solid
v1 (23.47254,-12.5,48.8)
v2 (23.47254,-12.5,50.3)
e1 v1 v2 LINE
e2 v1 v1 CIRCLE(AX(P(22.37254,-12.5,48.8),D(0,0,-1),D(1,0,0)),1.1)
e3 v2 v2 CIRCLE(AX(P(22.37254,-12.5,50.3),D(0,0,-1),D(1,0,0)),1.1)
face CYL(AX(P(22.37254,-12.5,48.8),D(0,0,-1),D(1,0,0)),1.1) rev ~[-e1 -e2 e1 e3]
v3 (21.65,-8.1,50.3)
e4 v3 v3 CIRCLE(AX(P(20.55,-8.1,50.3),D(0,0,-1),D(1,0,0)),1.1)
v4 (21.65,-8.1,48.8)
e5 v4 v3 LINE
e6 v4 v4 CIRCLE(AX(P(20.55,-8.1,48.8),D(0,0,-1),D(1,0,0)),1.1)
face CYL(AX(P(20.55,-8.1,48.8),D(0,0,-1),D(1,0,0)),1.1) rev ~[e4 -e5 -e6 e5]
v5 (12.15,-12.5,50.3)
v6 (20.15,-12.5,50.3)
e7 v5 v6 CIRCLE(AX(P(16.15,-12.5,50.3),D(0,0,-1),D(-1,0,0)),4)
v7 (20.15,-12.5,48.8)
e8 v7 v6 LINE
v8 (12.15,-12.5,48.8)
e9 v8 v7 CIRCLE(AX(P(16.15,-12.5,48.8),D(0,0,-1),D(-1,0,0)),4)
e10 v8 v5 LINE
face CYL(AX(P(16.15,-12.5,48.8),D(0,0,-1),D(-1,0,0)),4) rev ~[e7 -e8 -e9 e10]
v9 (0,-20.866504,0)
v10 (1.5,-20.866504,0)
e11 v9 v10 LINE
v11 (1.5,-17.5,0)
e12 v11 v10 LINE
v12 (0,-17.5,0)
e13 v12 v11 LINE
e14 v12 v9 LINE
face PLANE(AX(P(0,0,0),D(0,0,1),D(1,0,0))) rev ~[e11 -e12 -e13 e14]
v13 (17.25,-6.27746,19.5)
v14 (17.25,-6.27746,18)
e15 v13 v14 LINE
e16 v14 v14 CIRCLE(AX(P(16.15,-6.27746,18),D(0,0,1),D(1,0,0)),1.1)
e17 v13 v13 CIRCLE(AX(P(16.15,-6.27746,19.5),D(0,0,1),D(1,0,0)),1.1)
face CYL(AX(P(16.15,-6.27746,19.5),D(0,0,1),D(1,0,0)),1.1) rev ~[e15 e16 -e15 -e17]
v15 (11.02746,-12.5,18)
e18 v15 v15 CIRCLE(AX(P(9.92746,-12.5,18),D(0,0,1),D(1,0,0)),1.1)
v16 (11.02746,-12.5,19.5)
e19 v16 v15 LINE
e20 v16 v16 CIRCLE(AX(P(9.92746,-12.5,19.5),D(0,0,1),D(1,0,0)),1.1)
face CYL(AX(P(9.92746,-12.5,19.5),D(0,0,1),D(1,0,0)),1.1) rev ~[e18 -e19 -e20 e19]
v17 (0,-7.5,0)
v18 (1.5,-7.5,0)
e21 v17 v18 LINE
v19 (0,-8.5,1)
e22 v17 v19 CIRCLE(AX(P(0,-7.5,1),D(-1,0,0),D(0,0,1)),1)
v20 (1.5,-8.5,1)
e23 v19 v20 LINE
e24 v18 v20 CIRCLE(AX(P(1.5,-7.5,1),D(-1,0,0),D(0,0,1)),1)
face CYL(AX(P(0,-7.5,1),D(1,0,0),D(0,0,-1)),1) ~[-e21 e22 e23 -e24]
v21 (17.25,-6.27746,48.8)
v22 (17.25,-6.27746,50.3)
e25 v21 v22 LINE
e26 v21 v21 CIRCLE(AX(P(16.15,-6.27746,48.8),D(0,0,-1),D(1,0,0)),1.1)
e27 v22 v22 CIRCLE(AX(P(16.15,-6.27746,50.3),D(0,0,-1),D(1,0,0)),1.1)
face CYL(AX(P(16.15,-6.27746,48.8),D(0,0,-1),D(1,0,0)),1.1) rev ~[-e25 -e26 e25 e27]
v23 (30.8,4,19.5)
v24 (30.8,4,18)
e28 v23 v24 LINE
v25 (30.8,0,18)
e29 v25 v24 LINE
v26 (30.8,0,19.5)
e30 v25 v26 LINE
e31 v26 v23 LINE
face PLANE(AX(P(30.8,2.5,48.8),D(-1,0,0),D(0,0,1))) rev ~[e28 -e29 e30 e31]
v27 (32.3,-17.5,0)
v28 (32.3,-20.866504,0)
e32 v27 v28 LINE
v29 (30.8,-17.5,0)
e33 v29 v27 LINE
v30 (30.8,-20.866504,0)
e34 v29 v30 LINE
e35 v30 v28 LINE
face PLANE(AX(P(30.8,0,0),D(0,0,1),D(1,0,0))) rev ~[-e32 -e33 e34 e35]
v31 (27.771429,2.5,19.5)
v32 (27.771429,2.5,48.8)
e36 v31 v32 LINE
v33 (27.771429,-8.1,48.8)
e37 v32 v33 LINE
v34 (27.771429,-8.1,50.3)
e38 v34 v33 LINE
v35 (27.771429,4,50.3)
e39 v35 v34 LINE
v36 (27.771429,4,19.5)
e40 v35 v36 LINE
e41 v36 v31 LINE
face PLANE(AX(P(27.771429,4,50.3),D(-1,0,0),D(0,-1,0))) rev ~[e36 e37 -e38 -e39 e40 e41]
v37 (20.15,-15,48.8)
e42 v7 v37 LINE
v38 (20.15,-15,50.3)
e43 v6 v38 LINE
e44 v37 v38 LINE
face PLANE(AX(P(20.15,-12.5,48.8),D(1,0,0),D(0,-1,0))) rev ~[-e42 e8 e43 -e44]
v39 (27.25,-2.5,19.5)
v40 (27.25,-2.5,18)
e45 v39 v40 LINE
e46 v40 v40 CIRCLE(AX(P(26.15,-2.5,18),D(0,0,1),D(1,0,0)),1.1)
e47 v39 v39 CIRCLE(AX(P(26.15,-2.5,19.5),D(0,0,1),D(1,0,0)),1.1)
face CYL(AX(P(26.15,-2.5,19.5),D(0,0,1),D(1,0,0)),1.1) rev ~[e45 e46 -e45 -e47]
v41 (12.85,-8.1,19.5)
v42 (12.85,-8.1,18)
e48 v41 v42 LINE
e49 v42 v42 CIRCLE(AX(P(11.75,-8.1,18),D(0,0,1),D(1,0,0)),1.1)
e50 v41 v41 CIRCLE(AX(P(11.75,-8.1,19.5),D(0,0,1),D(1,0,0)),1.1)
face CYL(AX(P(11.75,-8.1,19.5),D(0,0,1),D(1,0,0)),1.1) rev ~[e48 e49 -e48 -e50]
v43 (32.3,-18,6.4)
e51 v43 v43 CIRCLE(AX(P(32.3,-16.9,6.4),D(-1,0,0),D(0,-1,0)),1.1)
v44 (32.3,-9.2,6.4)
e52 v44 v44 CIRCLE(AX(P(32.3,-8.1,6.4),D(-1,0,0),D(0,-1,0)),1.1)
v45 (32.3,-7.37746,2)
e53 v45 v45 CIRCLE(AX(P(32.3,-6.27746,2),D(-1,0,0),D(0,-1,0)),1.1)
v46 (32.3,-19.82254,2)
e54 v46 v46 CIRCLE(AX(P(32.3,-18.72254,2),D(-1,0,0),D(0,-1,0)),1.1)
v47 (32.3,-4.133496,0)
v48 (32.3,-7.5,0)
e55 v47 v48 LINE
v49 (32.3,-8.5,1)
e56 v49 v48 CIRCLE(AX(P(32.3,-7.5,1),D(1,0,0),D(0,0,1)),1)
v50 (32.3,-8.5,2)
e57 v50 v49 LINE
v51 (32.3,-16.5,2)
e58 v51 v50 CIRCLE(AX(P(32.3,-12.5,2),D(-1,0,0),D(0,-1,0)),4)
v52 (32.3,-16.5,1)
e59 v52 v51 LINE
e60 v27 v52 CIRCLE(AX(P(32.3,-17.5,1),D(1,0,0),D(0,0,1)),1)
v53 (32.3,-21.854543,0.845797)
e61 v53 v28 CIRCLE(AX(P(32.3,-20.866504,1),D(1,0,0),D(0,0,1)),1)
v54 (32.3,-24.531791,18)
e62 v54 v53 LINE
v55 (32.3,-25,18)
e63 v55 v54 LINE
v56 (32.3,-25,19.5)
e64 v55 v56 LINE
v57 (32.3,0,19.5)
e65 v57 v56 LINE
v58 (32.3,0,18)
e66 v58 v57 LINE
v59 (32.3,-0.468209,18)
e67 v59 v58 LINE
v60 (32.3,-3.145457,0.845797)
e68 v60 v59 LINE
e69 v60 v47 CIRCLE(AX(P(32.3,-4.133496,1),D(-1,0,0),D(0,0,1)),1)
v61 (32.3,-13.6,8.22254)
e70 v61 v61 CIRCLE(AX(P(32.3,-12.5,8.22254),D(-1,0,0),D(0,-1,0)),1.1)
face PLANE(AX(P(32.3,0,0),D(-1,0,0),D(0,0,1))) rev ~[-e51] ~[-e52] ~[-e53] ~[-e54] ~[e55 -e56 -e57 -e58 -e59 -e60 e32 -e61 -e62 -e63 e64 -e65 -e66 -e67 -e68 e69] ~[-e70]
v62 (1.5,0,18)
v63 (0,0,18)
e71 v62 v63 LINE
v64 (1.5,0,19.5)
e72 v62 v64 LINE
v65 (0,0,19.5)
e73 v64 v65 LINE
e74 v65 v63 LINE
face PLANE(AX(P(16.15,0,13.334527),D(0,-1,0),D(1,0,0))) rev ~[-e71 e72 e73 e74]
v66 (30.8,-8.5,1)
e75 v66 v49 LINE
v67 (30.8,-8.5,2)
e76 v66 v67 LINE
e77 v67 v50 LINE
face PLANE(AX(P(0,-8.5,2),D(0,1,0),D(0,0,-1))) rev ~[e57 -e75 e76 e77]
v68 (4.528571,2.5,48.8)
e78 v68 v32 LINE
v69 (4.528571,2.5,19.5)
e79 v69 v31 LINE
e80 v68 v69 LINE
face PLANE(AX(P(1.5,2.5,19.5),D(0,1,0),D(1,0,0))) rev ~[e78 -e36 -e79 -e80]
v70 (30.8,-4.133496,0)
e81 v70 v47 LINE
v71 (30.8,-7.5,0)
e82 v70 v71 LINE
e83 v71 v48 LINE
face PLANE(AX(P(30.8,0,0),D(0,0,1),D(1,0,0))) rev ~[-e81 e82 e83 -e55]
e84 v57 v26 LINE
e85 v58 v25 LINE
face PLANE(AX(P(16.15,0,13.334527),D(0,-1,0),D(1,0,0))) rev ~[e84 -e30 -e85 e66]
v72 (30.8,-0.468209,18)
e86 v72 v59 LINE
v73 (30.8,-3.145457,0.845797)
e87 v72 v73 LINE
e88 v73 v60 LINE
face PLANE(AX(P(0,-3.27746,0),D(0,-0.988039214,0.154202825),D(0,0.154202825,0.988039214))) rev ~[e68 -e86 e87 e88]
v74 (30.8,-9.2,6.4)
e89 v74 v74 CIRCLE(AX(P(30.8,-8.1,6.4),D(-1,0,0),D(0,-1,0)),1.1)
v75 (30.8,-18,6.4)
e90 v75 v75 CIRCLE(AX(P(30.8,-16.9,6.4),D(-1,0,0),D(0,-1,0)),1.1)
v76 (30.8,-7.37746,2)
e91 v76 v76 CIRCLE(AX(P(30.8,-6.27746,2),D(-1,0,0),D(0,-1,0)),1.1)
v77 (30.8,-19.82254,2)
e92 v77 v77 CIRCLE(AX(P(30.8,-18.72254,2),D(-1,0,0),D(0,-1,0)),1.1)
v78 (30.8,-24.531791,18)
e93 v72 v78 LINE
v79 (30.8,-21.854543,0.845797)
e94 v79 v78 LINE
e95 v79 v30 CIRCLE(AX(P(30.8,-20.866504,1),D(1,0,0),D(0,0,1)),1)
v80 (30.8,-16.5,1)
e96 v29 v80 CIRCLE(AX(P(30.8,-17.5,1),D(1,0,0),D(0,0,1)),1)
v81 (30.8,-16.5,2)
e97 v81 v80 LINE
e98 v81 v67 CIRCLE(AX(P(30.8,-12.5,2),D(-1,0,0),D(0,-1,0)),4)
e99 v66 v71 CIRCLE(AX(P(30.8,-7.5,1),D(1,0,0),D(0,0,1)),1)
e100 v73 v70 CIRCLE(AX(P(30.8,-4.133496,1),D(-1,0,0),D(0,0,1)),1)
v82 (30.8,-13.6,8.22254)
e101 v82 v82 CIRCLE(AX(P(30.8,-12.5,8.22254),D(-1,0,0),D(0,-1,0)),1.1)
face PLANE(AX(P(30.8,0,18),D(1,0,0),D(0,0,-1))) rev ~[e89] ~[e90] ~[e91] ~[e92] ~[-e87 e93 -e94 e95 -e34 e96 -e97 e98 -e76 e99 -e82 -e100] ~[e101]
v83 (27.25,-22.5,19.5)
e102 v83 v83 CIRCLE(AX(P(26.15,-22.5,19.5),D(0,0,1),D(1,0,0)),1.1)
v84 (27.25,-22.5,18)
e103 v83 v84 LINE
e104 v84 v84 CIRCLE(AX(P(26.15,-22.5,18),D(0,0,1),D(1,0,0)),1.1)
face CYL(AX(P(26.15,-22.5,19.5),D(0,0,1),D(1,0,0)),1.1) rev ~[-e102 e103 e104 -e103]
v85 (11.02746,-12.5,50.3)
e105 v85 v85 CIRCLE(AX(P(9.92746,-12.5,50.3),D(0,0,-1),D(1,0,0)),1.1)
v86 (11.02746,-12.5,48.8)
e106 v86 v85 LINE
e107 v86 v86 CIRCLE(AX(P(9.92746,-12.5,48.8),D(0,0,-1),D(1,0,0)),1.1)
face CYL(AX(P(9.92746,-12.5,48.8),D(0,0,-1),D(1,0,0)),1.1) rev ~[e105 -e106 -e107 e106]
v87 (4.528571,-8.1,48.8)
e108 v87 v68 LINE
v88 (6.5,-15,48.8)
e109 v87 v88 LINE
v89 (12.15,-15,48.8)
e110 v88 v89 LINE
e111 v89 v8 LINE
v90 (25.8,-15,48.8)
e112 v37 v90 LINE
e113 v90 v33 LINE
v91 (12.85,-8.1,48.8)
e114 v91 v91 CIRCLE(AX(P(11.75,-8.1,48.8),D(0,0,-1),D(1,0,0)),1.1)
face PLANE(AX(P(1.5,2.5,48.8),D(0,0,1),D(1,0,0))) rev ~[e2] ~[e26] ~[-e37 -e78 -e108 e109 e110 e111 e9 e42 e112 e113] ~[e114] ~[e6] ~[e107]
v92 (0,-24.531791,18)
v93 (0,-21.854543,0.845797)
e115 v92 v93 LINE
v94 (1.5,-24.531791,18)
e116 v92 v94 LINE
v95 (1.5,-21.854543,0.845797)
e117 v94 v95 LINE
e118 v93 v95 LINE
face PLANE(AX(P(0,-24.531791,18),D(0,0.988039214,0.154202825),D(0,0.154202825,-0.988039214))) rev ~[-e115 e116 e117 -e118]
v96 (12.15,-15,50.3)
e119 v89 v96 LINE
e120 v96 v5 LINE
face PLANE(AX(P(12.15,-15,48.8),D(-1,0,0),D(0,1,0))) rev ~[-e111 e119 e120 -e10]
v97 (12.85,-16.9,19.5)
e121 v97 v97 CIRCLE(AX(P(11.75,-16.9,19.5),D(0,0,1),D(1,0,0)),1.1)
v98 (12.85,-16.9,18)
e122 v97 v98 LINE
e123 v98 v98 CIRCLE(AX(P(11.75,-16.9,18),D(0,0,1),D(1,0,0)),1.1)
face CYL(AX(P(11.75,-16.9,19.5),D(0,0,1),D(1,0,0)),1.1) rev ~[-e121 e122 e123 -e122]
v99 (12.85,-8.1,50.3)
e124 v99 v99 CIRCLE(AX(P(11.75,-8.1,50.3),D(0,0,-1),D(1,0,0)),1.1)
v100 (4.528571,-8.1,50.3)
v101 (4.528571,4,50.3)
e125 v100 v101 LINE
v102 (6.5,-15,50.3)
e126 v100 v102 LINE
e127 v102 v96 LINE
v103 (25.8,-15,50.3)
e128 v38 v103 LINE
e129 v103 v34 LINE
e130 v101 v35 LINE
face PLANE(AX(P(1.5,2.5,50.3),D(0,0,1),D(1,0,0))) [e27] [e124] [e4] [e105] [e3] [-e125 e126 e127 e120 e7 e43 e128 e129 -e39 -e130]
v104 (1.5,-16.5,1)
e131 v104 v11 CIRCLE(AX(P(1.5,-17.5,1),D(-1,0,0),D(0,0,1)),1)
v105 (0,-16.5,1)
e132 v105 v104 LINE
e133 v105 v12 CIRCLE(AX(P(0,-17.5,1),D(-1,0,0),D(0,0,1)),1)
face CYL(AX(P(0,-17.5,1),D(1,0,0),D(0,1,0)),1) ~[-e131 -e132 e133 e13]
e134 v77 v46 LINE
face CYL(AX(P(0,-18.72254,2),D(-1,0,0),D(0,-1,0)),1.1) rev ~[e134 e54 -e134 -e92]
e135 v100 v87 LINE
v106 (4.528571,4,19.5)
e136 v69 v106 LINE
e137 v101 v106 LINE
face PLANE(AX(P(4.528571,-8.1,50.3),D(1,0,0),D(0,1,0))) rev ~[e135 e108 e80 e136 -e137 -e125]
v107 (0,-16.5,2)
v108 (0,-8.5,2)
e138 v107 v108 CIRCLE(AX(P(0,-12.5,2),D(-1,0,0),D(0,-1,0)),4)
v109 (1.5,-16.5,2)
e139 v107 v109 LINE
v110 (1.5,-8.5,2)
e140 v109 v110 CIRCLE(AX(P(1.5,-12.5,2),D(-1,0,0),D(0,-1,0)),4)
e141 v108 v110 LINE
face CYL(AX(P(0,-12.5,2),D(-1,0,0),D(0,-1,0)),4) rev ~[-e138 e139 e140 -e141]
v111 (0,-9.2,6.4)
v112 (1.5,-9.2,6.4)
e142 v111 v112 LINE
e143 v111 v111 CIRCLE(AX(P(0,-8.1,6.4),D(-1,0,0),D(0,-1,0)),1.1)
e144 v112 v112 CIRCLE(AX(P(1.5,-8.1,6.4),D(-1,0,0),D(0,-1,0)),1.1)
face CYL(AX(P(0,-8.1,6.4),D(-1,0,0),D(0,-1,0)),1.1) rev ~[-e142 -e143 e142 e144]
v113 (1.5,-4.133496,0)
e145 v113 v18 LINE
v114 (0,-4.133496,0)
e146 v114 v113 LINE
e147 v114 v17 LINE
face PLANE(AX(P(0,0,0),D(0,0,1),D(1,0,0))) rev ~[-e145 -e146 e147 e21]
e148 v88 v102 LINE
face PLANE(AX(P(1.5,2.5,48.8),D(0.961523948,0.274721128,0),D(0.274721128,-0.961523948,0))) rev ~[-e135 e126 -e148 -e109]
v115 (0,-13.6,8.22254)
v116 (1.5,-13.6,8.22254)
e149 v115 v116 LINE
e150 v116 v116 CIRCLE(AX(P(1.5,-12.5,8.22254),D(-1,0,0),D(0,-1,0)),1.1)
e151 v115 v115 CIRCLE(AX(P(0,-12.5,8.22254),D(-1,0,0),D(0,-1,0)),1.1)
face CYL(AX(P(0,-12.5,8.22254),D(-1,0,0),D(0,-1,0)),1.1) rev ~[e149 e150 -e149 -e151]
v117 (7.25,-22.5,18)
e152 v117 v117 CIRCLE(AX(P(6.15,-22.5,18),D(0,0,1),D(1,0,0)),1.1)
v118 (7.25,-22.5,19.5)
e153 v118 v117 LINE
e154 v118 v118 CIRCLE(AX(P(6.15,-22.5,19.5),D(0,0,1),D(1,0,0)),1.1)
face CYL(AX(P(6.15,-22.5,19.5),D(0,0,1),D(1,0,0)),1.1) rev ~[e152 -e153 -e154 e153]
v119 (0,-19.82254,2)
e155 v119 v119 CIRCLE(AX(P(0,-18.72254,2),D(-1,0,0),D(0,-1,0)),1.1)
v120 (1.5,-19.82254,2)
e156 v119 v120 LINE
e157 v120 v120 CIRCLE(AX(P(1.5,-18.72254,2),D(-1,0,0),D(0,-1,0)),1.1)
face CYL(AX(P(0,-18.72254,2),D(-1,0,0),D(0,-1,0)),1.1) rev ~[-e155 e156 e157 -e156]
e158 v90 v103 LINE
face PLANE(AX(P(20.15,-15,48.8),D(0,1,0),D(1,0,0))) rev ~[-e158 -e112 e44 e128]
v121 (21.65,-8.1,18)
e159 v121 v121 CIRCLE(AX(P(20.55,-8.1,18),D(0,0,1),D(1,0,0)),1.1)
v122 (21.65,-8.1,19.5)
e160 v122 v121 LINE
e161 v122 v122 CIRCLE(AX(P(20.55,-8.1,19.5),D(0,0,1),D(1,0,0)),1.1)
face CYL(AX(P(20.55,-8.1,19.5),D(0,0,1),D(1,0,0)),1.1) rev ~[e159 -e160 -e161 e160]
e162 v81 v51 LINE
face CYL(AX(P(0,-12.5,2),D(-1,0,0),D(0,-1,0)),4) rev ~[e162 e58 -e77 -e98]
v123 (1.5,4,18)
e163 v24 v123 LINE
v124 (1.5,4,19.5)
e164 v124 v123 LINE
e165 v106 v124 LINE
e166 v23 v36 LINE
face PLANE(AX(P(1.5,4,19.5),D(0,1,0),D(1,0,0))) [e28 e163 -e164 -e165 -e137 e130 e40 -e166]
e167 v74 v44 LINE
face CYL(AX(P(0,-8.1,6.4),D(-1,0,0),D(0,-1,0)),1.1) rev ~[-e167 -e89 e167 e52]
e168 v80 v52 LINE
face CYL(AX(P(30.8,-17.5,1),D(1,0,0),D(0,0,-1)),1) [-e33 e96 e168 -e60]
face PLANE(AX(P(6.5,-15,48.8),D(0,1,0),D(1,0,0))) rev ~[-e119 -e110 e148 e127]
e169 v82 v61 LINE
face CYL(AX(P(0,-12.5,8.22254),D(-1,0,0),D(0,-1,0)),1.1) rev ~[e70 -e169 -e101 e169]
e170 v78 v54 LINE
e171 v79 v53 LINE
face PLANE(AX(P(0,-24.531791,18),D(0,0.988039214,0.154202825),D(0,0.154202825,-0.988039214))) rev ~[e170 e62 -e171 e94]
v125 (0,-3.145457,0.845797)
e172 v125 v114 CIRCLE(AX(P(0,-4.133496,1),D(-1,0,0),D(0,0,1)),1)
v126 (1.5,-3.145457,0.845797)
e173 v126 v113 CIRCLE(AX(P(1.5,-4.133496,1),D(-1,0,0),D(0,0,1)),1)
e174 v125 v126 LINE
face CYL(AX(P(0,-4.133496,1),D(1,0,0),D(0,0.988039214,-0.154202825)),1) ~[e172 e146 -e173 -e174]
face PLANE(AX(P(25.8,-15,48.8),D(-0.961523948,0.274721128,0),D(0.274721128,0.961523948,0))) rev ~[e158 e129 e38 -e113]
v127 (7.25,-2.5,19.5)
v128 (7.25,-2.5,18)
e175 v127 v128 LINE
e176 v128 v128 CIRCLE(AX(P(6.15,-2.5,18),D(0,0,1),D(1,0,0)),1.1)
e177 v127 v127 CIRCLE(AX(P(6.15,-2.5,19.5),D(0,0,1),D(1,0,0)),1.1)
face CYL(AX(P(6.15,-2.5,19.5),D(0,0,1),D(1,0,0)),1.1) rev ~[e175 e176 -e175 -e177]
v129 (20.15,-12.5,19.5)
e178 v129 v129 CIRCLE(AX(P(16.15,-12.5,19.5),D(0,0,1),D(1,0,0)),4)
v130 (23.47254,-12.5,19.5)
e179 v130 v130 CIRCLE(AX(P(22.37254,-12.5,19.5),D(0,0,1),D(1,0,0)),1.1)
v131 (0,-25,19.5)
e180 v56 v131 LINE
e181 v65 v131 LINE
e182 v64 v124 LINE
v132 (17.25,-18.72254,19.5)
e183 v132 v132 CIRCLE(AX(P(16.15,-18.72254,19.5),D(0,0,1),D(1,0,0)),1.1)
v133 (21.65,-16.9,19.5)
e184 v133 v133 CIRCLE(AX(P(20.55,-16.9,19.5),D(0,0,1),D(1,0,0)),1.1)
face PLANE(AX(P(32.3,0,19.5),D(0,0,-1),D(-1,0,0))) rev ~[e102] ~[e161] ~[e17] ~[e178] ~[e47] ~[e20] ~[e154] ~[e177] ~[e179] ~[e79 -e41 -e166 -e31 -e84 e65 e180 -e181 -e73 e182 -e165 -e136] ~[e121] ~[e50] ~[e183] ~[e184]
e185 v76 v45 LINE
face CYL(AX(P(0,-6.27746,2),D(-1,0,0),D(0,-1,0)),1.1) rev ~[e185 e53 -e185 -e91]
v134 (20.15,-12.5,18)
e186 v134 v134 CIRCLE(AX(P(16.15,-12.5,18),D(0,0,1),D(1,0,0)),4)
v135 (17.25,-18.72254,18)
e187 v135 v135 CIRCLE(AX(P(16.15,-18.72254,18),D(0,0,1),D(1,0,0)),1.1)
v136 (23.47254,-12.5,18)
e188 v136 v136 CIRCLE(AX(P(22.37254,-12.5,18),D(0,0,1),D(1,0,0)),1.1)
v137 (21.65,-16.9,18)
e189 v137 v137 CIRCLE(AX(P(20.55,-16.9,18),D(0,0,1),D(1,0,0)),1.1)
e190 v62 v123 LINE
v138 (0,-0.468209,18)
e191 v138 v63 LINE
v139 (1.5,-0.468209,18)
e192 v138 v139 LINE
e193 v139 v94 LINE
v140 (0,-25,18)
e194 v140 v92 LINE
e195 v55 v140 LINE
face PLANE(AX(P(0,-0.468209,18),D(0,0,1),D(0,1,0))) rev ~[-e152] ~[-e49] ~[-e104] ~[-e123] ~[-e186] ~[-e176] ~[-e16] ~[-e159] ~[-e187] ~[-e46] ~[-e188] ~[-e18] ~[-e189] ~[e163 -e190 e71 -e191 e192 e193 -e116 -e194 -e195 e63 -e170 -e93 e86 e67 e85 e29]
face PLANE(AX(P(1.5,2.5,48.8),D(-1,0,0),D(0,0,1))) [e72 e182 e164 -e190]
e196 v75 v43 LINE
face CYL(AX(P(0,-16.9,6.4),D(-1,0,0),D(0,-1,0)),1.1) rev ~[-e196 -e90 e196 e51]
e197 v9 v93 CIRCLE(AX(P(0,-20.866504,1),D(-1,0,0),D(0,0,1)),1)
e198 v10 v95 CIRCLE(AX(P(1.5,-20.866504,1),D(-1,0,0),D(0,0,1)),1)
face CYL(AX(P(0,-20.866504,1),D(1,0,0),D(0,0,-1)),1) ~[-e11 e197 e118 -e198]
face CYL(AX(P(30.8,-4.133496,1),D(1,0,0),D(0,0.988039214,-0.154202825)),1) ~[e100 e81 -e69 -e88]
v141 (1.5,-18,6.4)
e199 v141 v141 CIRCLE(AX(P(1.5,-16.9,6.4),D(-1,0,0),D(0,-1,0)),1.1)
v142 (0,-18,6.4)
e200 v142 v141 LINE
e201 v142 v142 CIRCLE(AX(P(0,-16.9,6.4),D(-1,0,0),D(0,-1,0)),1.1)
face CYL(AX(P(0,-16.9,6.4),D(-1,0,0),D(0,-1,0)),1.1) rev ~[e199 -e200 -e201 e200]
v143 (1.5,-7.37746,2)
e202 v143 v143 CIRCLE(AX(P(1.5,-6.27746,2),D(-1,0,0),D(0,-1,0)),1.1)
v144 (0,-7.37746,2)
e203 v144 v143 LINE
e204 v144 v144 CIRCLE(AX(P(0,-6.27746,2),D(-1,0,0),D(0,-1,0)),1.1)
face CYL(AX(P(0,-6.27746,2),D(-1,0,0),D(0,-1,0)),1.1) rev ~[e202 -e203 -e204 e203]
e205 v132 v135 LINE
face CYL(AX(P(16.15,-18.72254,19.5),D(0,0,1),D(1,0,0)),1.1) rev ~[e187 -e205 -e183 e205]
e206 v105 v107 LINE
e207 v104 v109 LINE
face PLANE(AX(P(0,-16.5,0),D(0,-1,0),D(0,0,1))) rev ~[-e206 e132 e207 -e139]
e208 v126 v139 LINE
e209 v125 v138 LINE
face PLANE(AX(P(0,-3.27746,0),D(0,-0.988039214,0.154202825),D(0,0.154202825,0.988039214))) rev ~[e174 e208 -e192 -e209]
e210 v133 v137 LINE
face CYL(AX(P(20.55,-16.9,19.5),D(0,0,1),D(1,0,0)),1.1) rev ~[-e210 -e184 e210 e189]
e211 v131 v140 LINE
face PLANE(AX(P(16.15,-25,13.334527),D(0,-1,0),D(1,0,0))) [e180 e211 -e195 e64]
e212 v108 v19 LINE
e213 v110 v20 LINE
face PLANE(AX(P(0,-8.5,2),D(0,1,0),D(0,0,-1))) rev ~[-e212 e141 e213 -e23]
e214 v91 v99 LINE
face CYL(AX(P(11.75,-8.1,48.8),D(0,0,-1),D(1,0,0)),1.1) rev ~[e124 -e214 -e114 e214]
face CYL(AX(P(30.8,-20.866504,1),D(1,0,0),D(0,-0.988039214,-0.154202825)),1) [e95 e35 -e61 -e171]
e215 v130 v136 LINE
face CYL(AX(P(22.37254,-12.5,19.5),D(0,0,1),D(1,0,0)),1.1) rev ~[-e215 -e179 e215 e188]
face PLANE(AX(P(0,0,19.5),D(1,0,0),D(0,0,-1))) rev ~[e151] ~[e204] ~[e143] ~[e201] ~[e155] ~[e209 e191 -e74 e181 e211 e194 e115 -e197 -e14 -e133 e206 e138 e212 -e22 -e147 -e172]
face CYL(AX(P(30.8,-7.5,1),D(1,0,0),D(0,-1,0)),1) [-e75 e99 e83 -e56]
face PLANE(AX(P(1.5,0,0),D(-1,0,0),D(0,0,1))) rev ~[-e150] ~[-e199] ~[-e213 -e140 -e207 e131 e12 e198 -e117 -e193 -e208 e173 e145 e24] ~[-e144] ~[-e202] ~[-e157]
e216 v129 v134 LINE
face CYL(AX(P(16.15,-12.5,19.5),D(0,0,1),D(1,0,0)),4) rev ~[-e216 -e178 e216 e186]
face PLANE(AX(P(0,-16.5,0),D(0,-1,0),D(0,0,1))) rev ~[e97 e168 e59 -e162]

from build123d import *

# Parameters (mm, degrees)
F1_DEPTH  = 25
F2_R      = 1.1
F3_DEPTH  = 32.301
F4_R      = 1.1
F4_R_2    = 4
F5_DEPTH  = 1.5
F6_R      = 1
F7_W      = 29.3
F7_H      = 1.5
F8_DEPTH  = 4
F9_W      = 29.3
F9_H      = 1.5
F10_DEPTH = 30.8
F11_W     = 29.3
F11_H     = 1.5
F12_DEPTH = 20
F13_R     = 1.1
F14_DEPTH = 1.5
F16_DEPTH = 30.8


with BuildPart() as f1:
    # F0 (on Front) → F1 (new body)
    with BuildSketch(Plane.XZ):
        Polygon((0, 19.5), (0, 0), (1.5, 0), (1.5, 18), (30.8, 18), (30.8, 0), (32.3, 0), (32.3, 19.5), align=None)
    extrude(amount=F1_DEPTH)

    # F2 (on face) → F3 (cut, through all)
    with BuildSketch(Plane(origin=(0, 0, 0), x_dir=(0, -1, 0), z_dir=(-1, 0, 0))):
        with BuildLine():
            Line((16.5, 0), (16.5, 2))
            ThreePointArc((16.5, 2), (12.5, 6), (8.5, 2))
            Line((8.5, 2), (8.5, 0))
            Line((8.5, 0), (16.5, 0))
        make_face()
        with Locations((18.7225396744, 2)):
            Circle(F2_R)
        with Locations((16.9, 6.4)):
            Circle(F2_R)
        with Locations((12.5, 8.2225396744)):
            Circle(F2_R)
        with Locations((8.1, 6.4)):
            Circle(F2_R)
        with Locations((6.2774603256, 2)):
            Circle(F2_R)
        Polygon((0, 0), (3.2774603256, 0), (0.4682086179, 18), (0, 18), align=None)
        Polygon((21.7225396744, 0), (25, 0), (25, 18), (24.5317913821, 18), align=None)
    extrude(amount=-F3_DEPTH, mode=Mode.SUBTRACT)

    # F4 (on face) → F5 (cut, through all)
    with BuildSketch(Plane.XY.offset(19.5)):
        with Locations((6.15, -2.5)):
            Circle(F4_R)
        with Locations((26.15, -2.5)):
            Circle(F4_R)
        with Locations((6.15, -22.5)):
            Circle(F4_R)
        with Locations((26.15, -22.5)):
            Circle(F4_R)
        with Locations((16.15, -12.5)):
            Circle(F4_R_2)
        with Locations((11.75, -8.1)):
            Circle(F4_R)
        with Locations((9.9274603256, -12.5)):
            Circle(F4_R)
        with Locations((11.75, -16.9)):
            Circle(F4_R)
        with Locations((16.15, -18.7225396744)):
            Circle(F4_R)
        with Locations((20.55, -16.9)):
            Circle(F4_R)
        with Locations((22.3725396744, -12.5)):
            Circle(F4_R)
        with Locations((20.55, -8.1)):
            Circle(F4_R)
        with Locations((16.15, -6.2774603256)):
            Circle(F4_R)
    extrude(amount=-F5_DEPTH, mode=Mode.SUBTRACT)

    # F6
    f6_edges = [f1.edges().sort_by_distance(p)[0] for p in [
        (31.55, -3.27746, 0),
        (0.75, -3.27746, 0),
        (31.55, -8.5, 0),
        (0.75, -8.5, 0),
        (31.55, -16.5, 0),
        (0.75, -16.5, 0),
        (31.55, -21.72254, 0),
        (0.75, -21.72254, 0),
    ]]
    fillet(f6_edges, radius=F6_R)

    # F7 (on face) → F8 (join)
    with BuildSketch(Plane(origin=(0, 0, 0), x_dir=(-1, 0, 0), z_dir=(0, 1, 0))):
        with Locations((-16.15, 18.75)):
            Rectangle(F7_W, F7_H)
    extrude(amount=F8_DEPTH)

    # F9 (on face) → F10 (join)
    with BuildSketch(Plane.XY.offset(19.5)):
        with Locations((16.15, 3.25)):
            Rectangle(F9_W, F9_H)
    extrude(amount=F10_DEPTH)

    # F11 (on face) → F12 (join)
    with BuildSketch(Plane.XZ.offset(-2.5)):
        with Locations((16.15, 49.55)):
            Rectangle(F11_W, F11_H)
    extrude(amount=F12_DEPTH)

    # F13 (on face) → F14 (cut, through all)
    with BuildSketch(Plane(origin=(0, 0, 48.8), x_dir=(1, 0, 0), z_dir=(0, 0, -1))):
        with Locations((9.9274603256, 12.5)):
            Circle(F13_R)
        with Locations((11.75, 8.1)):
            Circle(F13_R)
        with Locations((16.15, 6.2774603256)):
            Circle(F13_R)
        with Locations((20.55, 8.1)):
            Circle(F13_R)
        with Locations((22.3725396744, 12.5)):
            Circle(F13_R)
        with BuildLine():
            Line((12.15, 15), (12.15, 12.5))
            ThreePointArc((12.15, 12.5), (16.15, 8.5), (20.15, 12.5))
            Line((20.15, 12.5), (20.15, 15))
            Line((20.15, 15), (25.8, 15))
            Line((25.8, 15), (30.8, -2.5))
            Line((30.8, -2.5), (30.8, 17.5))
            Line((30.8, 17.5), (1.5, 17.5))
            Line((1.5, 17.5), (1.5, -2.5))
            Line((1.5, -2.5), (6.5, 15))
            Line((6.5, 15), (12.15, 15))
        make_face()
    extrude(amount=-F14_DEPTH, mode=Mode.SUBTRACT)

    # F15 (on face) → F16 (cut)
    with BuildSketch(Plane.XY.offset(50.3)):
        Polygon((1.5, 2.5), (4.5285714286, -8.1), (4.5285714286, 4), (1.5, 4), align=None)
        Polygon((30.8, 4), (27.7714285714, 4), (27.7714285714, -8.1), (30.8, 2.5), align=None)
    extrude(amount=-F16_DEPTH, mode=Mode.SUBTRACT)


solid = f1.part
